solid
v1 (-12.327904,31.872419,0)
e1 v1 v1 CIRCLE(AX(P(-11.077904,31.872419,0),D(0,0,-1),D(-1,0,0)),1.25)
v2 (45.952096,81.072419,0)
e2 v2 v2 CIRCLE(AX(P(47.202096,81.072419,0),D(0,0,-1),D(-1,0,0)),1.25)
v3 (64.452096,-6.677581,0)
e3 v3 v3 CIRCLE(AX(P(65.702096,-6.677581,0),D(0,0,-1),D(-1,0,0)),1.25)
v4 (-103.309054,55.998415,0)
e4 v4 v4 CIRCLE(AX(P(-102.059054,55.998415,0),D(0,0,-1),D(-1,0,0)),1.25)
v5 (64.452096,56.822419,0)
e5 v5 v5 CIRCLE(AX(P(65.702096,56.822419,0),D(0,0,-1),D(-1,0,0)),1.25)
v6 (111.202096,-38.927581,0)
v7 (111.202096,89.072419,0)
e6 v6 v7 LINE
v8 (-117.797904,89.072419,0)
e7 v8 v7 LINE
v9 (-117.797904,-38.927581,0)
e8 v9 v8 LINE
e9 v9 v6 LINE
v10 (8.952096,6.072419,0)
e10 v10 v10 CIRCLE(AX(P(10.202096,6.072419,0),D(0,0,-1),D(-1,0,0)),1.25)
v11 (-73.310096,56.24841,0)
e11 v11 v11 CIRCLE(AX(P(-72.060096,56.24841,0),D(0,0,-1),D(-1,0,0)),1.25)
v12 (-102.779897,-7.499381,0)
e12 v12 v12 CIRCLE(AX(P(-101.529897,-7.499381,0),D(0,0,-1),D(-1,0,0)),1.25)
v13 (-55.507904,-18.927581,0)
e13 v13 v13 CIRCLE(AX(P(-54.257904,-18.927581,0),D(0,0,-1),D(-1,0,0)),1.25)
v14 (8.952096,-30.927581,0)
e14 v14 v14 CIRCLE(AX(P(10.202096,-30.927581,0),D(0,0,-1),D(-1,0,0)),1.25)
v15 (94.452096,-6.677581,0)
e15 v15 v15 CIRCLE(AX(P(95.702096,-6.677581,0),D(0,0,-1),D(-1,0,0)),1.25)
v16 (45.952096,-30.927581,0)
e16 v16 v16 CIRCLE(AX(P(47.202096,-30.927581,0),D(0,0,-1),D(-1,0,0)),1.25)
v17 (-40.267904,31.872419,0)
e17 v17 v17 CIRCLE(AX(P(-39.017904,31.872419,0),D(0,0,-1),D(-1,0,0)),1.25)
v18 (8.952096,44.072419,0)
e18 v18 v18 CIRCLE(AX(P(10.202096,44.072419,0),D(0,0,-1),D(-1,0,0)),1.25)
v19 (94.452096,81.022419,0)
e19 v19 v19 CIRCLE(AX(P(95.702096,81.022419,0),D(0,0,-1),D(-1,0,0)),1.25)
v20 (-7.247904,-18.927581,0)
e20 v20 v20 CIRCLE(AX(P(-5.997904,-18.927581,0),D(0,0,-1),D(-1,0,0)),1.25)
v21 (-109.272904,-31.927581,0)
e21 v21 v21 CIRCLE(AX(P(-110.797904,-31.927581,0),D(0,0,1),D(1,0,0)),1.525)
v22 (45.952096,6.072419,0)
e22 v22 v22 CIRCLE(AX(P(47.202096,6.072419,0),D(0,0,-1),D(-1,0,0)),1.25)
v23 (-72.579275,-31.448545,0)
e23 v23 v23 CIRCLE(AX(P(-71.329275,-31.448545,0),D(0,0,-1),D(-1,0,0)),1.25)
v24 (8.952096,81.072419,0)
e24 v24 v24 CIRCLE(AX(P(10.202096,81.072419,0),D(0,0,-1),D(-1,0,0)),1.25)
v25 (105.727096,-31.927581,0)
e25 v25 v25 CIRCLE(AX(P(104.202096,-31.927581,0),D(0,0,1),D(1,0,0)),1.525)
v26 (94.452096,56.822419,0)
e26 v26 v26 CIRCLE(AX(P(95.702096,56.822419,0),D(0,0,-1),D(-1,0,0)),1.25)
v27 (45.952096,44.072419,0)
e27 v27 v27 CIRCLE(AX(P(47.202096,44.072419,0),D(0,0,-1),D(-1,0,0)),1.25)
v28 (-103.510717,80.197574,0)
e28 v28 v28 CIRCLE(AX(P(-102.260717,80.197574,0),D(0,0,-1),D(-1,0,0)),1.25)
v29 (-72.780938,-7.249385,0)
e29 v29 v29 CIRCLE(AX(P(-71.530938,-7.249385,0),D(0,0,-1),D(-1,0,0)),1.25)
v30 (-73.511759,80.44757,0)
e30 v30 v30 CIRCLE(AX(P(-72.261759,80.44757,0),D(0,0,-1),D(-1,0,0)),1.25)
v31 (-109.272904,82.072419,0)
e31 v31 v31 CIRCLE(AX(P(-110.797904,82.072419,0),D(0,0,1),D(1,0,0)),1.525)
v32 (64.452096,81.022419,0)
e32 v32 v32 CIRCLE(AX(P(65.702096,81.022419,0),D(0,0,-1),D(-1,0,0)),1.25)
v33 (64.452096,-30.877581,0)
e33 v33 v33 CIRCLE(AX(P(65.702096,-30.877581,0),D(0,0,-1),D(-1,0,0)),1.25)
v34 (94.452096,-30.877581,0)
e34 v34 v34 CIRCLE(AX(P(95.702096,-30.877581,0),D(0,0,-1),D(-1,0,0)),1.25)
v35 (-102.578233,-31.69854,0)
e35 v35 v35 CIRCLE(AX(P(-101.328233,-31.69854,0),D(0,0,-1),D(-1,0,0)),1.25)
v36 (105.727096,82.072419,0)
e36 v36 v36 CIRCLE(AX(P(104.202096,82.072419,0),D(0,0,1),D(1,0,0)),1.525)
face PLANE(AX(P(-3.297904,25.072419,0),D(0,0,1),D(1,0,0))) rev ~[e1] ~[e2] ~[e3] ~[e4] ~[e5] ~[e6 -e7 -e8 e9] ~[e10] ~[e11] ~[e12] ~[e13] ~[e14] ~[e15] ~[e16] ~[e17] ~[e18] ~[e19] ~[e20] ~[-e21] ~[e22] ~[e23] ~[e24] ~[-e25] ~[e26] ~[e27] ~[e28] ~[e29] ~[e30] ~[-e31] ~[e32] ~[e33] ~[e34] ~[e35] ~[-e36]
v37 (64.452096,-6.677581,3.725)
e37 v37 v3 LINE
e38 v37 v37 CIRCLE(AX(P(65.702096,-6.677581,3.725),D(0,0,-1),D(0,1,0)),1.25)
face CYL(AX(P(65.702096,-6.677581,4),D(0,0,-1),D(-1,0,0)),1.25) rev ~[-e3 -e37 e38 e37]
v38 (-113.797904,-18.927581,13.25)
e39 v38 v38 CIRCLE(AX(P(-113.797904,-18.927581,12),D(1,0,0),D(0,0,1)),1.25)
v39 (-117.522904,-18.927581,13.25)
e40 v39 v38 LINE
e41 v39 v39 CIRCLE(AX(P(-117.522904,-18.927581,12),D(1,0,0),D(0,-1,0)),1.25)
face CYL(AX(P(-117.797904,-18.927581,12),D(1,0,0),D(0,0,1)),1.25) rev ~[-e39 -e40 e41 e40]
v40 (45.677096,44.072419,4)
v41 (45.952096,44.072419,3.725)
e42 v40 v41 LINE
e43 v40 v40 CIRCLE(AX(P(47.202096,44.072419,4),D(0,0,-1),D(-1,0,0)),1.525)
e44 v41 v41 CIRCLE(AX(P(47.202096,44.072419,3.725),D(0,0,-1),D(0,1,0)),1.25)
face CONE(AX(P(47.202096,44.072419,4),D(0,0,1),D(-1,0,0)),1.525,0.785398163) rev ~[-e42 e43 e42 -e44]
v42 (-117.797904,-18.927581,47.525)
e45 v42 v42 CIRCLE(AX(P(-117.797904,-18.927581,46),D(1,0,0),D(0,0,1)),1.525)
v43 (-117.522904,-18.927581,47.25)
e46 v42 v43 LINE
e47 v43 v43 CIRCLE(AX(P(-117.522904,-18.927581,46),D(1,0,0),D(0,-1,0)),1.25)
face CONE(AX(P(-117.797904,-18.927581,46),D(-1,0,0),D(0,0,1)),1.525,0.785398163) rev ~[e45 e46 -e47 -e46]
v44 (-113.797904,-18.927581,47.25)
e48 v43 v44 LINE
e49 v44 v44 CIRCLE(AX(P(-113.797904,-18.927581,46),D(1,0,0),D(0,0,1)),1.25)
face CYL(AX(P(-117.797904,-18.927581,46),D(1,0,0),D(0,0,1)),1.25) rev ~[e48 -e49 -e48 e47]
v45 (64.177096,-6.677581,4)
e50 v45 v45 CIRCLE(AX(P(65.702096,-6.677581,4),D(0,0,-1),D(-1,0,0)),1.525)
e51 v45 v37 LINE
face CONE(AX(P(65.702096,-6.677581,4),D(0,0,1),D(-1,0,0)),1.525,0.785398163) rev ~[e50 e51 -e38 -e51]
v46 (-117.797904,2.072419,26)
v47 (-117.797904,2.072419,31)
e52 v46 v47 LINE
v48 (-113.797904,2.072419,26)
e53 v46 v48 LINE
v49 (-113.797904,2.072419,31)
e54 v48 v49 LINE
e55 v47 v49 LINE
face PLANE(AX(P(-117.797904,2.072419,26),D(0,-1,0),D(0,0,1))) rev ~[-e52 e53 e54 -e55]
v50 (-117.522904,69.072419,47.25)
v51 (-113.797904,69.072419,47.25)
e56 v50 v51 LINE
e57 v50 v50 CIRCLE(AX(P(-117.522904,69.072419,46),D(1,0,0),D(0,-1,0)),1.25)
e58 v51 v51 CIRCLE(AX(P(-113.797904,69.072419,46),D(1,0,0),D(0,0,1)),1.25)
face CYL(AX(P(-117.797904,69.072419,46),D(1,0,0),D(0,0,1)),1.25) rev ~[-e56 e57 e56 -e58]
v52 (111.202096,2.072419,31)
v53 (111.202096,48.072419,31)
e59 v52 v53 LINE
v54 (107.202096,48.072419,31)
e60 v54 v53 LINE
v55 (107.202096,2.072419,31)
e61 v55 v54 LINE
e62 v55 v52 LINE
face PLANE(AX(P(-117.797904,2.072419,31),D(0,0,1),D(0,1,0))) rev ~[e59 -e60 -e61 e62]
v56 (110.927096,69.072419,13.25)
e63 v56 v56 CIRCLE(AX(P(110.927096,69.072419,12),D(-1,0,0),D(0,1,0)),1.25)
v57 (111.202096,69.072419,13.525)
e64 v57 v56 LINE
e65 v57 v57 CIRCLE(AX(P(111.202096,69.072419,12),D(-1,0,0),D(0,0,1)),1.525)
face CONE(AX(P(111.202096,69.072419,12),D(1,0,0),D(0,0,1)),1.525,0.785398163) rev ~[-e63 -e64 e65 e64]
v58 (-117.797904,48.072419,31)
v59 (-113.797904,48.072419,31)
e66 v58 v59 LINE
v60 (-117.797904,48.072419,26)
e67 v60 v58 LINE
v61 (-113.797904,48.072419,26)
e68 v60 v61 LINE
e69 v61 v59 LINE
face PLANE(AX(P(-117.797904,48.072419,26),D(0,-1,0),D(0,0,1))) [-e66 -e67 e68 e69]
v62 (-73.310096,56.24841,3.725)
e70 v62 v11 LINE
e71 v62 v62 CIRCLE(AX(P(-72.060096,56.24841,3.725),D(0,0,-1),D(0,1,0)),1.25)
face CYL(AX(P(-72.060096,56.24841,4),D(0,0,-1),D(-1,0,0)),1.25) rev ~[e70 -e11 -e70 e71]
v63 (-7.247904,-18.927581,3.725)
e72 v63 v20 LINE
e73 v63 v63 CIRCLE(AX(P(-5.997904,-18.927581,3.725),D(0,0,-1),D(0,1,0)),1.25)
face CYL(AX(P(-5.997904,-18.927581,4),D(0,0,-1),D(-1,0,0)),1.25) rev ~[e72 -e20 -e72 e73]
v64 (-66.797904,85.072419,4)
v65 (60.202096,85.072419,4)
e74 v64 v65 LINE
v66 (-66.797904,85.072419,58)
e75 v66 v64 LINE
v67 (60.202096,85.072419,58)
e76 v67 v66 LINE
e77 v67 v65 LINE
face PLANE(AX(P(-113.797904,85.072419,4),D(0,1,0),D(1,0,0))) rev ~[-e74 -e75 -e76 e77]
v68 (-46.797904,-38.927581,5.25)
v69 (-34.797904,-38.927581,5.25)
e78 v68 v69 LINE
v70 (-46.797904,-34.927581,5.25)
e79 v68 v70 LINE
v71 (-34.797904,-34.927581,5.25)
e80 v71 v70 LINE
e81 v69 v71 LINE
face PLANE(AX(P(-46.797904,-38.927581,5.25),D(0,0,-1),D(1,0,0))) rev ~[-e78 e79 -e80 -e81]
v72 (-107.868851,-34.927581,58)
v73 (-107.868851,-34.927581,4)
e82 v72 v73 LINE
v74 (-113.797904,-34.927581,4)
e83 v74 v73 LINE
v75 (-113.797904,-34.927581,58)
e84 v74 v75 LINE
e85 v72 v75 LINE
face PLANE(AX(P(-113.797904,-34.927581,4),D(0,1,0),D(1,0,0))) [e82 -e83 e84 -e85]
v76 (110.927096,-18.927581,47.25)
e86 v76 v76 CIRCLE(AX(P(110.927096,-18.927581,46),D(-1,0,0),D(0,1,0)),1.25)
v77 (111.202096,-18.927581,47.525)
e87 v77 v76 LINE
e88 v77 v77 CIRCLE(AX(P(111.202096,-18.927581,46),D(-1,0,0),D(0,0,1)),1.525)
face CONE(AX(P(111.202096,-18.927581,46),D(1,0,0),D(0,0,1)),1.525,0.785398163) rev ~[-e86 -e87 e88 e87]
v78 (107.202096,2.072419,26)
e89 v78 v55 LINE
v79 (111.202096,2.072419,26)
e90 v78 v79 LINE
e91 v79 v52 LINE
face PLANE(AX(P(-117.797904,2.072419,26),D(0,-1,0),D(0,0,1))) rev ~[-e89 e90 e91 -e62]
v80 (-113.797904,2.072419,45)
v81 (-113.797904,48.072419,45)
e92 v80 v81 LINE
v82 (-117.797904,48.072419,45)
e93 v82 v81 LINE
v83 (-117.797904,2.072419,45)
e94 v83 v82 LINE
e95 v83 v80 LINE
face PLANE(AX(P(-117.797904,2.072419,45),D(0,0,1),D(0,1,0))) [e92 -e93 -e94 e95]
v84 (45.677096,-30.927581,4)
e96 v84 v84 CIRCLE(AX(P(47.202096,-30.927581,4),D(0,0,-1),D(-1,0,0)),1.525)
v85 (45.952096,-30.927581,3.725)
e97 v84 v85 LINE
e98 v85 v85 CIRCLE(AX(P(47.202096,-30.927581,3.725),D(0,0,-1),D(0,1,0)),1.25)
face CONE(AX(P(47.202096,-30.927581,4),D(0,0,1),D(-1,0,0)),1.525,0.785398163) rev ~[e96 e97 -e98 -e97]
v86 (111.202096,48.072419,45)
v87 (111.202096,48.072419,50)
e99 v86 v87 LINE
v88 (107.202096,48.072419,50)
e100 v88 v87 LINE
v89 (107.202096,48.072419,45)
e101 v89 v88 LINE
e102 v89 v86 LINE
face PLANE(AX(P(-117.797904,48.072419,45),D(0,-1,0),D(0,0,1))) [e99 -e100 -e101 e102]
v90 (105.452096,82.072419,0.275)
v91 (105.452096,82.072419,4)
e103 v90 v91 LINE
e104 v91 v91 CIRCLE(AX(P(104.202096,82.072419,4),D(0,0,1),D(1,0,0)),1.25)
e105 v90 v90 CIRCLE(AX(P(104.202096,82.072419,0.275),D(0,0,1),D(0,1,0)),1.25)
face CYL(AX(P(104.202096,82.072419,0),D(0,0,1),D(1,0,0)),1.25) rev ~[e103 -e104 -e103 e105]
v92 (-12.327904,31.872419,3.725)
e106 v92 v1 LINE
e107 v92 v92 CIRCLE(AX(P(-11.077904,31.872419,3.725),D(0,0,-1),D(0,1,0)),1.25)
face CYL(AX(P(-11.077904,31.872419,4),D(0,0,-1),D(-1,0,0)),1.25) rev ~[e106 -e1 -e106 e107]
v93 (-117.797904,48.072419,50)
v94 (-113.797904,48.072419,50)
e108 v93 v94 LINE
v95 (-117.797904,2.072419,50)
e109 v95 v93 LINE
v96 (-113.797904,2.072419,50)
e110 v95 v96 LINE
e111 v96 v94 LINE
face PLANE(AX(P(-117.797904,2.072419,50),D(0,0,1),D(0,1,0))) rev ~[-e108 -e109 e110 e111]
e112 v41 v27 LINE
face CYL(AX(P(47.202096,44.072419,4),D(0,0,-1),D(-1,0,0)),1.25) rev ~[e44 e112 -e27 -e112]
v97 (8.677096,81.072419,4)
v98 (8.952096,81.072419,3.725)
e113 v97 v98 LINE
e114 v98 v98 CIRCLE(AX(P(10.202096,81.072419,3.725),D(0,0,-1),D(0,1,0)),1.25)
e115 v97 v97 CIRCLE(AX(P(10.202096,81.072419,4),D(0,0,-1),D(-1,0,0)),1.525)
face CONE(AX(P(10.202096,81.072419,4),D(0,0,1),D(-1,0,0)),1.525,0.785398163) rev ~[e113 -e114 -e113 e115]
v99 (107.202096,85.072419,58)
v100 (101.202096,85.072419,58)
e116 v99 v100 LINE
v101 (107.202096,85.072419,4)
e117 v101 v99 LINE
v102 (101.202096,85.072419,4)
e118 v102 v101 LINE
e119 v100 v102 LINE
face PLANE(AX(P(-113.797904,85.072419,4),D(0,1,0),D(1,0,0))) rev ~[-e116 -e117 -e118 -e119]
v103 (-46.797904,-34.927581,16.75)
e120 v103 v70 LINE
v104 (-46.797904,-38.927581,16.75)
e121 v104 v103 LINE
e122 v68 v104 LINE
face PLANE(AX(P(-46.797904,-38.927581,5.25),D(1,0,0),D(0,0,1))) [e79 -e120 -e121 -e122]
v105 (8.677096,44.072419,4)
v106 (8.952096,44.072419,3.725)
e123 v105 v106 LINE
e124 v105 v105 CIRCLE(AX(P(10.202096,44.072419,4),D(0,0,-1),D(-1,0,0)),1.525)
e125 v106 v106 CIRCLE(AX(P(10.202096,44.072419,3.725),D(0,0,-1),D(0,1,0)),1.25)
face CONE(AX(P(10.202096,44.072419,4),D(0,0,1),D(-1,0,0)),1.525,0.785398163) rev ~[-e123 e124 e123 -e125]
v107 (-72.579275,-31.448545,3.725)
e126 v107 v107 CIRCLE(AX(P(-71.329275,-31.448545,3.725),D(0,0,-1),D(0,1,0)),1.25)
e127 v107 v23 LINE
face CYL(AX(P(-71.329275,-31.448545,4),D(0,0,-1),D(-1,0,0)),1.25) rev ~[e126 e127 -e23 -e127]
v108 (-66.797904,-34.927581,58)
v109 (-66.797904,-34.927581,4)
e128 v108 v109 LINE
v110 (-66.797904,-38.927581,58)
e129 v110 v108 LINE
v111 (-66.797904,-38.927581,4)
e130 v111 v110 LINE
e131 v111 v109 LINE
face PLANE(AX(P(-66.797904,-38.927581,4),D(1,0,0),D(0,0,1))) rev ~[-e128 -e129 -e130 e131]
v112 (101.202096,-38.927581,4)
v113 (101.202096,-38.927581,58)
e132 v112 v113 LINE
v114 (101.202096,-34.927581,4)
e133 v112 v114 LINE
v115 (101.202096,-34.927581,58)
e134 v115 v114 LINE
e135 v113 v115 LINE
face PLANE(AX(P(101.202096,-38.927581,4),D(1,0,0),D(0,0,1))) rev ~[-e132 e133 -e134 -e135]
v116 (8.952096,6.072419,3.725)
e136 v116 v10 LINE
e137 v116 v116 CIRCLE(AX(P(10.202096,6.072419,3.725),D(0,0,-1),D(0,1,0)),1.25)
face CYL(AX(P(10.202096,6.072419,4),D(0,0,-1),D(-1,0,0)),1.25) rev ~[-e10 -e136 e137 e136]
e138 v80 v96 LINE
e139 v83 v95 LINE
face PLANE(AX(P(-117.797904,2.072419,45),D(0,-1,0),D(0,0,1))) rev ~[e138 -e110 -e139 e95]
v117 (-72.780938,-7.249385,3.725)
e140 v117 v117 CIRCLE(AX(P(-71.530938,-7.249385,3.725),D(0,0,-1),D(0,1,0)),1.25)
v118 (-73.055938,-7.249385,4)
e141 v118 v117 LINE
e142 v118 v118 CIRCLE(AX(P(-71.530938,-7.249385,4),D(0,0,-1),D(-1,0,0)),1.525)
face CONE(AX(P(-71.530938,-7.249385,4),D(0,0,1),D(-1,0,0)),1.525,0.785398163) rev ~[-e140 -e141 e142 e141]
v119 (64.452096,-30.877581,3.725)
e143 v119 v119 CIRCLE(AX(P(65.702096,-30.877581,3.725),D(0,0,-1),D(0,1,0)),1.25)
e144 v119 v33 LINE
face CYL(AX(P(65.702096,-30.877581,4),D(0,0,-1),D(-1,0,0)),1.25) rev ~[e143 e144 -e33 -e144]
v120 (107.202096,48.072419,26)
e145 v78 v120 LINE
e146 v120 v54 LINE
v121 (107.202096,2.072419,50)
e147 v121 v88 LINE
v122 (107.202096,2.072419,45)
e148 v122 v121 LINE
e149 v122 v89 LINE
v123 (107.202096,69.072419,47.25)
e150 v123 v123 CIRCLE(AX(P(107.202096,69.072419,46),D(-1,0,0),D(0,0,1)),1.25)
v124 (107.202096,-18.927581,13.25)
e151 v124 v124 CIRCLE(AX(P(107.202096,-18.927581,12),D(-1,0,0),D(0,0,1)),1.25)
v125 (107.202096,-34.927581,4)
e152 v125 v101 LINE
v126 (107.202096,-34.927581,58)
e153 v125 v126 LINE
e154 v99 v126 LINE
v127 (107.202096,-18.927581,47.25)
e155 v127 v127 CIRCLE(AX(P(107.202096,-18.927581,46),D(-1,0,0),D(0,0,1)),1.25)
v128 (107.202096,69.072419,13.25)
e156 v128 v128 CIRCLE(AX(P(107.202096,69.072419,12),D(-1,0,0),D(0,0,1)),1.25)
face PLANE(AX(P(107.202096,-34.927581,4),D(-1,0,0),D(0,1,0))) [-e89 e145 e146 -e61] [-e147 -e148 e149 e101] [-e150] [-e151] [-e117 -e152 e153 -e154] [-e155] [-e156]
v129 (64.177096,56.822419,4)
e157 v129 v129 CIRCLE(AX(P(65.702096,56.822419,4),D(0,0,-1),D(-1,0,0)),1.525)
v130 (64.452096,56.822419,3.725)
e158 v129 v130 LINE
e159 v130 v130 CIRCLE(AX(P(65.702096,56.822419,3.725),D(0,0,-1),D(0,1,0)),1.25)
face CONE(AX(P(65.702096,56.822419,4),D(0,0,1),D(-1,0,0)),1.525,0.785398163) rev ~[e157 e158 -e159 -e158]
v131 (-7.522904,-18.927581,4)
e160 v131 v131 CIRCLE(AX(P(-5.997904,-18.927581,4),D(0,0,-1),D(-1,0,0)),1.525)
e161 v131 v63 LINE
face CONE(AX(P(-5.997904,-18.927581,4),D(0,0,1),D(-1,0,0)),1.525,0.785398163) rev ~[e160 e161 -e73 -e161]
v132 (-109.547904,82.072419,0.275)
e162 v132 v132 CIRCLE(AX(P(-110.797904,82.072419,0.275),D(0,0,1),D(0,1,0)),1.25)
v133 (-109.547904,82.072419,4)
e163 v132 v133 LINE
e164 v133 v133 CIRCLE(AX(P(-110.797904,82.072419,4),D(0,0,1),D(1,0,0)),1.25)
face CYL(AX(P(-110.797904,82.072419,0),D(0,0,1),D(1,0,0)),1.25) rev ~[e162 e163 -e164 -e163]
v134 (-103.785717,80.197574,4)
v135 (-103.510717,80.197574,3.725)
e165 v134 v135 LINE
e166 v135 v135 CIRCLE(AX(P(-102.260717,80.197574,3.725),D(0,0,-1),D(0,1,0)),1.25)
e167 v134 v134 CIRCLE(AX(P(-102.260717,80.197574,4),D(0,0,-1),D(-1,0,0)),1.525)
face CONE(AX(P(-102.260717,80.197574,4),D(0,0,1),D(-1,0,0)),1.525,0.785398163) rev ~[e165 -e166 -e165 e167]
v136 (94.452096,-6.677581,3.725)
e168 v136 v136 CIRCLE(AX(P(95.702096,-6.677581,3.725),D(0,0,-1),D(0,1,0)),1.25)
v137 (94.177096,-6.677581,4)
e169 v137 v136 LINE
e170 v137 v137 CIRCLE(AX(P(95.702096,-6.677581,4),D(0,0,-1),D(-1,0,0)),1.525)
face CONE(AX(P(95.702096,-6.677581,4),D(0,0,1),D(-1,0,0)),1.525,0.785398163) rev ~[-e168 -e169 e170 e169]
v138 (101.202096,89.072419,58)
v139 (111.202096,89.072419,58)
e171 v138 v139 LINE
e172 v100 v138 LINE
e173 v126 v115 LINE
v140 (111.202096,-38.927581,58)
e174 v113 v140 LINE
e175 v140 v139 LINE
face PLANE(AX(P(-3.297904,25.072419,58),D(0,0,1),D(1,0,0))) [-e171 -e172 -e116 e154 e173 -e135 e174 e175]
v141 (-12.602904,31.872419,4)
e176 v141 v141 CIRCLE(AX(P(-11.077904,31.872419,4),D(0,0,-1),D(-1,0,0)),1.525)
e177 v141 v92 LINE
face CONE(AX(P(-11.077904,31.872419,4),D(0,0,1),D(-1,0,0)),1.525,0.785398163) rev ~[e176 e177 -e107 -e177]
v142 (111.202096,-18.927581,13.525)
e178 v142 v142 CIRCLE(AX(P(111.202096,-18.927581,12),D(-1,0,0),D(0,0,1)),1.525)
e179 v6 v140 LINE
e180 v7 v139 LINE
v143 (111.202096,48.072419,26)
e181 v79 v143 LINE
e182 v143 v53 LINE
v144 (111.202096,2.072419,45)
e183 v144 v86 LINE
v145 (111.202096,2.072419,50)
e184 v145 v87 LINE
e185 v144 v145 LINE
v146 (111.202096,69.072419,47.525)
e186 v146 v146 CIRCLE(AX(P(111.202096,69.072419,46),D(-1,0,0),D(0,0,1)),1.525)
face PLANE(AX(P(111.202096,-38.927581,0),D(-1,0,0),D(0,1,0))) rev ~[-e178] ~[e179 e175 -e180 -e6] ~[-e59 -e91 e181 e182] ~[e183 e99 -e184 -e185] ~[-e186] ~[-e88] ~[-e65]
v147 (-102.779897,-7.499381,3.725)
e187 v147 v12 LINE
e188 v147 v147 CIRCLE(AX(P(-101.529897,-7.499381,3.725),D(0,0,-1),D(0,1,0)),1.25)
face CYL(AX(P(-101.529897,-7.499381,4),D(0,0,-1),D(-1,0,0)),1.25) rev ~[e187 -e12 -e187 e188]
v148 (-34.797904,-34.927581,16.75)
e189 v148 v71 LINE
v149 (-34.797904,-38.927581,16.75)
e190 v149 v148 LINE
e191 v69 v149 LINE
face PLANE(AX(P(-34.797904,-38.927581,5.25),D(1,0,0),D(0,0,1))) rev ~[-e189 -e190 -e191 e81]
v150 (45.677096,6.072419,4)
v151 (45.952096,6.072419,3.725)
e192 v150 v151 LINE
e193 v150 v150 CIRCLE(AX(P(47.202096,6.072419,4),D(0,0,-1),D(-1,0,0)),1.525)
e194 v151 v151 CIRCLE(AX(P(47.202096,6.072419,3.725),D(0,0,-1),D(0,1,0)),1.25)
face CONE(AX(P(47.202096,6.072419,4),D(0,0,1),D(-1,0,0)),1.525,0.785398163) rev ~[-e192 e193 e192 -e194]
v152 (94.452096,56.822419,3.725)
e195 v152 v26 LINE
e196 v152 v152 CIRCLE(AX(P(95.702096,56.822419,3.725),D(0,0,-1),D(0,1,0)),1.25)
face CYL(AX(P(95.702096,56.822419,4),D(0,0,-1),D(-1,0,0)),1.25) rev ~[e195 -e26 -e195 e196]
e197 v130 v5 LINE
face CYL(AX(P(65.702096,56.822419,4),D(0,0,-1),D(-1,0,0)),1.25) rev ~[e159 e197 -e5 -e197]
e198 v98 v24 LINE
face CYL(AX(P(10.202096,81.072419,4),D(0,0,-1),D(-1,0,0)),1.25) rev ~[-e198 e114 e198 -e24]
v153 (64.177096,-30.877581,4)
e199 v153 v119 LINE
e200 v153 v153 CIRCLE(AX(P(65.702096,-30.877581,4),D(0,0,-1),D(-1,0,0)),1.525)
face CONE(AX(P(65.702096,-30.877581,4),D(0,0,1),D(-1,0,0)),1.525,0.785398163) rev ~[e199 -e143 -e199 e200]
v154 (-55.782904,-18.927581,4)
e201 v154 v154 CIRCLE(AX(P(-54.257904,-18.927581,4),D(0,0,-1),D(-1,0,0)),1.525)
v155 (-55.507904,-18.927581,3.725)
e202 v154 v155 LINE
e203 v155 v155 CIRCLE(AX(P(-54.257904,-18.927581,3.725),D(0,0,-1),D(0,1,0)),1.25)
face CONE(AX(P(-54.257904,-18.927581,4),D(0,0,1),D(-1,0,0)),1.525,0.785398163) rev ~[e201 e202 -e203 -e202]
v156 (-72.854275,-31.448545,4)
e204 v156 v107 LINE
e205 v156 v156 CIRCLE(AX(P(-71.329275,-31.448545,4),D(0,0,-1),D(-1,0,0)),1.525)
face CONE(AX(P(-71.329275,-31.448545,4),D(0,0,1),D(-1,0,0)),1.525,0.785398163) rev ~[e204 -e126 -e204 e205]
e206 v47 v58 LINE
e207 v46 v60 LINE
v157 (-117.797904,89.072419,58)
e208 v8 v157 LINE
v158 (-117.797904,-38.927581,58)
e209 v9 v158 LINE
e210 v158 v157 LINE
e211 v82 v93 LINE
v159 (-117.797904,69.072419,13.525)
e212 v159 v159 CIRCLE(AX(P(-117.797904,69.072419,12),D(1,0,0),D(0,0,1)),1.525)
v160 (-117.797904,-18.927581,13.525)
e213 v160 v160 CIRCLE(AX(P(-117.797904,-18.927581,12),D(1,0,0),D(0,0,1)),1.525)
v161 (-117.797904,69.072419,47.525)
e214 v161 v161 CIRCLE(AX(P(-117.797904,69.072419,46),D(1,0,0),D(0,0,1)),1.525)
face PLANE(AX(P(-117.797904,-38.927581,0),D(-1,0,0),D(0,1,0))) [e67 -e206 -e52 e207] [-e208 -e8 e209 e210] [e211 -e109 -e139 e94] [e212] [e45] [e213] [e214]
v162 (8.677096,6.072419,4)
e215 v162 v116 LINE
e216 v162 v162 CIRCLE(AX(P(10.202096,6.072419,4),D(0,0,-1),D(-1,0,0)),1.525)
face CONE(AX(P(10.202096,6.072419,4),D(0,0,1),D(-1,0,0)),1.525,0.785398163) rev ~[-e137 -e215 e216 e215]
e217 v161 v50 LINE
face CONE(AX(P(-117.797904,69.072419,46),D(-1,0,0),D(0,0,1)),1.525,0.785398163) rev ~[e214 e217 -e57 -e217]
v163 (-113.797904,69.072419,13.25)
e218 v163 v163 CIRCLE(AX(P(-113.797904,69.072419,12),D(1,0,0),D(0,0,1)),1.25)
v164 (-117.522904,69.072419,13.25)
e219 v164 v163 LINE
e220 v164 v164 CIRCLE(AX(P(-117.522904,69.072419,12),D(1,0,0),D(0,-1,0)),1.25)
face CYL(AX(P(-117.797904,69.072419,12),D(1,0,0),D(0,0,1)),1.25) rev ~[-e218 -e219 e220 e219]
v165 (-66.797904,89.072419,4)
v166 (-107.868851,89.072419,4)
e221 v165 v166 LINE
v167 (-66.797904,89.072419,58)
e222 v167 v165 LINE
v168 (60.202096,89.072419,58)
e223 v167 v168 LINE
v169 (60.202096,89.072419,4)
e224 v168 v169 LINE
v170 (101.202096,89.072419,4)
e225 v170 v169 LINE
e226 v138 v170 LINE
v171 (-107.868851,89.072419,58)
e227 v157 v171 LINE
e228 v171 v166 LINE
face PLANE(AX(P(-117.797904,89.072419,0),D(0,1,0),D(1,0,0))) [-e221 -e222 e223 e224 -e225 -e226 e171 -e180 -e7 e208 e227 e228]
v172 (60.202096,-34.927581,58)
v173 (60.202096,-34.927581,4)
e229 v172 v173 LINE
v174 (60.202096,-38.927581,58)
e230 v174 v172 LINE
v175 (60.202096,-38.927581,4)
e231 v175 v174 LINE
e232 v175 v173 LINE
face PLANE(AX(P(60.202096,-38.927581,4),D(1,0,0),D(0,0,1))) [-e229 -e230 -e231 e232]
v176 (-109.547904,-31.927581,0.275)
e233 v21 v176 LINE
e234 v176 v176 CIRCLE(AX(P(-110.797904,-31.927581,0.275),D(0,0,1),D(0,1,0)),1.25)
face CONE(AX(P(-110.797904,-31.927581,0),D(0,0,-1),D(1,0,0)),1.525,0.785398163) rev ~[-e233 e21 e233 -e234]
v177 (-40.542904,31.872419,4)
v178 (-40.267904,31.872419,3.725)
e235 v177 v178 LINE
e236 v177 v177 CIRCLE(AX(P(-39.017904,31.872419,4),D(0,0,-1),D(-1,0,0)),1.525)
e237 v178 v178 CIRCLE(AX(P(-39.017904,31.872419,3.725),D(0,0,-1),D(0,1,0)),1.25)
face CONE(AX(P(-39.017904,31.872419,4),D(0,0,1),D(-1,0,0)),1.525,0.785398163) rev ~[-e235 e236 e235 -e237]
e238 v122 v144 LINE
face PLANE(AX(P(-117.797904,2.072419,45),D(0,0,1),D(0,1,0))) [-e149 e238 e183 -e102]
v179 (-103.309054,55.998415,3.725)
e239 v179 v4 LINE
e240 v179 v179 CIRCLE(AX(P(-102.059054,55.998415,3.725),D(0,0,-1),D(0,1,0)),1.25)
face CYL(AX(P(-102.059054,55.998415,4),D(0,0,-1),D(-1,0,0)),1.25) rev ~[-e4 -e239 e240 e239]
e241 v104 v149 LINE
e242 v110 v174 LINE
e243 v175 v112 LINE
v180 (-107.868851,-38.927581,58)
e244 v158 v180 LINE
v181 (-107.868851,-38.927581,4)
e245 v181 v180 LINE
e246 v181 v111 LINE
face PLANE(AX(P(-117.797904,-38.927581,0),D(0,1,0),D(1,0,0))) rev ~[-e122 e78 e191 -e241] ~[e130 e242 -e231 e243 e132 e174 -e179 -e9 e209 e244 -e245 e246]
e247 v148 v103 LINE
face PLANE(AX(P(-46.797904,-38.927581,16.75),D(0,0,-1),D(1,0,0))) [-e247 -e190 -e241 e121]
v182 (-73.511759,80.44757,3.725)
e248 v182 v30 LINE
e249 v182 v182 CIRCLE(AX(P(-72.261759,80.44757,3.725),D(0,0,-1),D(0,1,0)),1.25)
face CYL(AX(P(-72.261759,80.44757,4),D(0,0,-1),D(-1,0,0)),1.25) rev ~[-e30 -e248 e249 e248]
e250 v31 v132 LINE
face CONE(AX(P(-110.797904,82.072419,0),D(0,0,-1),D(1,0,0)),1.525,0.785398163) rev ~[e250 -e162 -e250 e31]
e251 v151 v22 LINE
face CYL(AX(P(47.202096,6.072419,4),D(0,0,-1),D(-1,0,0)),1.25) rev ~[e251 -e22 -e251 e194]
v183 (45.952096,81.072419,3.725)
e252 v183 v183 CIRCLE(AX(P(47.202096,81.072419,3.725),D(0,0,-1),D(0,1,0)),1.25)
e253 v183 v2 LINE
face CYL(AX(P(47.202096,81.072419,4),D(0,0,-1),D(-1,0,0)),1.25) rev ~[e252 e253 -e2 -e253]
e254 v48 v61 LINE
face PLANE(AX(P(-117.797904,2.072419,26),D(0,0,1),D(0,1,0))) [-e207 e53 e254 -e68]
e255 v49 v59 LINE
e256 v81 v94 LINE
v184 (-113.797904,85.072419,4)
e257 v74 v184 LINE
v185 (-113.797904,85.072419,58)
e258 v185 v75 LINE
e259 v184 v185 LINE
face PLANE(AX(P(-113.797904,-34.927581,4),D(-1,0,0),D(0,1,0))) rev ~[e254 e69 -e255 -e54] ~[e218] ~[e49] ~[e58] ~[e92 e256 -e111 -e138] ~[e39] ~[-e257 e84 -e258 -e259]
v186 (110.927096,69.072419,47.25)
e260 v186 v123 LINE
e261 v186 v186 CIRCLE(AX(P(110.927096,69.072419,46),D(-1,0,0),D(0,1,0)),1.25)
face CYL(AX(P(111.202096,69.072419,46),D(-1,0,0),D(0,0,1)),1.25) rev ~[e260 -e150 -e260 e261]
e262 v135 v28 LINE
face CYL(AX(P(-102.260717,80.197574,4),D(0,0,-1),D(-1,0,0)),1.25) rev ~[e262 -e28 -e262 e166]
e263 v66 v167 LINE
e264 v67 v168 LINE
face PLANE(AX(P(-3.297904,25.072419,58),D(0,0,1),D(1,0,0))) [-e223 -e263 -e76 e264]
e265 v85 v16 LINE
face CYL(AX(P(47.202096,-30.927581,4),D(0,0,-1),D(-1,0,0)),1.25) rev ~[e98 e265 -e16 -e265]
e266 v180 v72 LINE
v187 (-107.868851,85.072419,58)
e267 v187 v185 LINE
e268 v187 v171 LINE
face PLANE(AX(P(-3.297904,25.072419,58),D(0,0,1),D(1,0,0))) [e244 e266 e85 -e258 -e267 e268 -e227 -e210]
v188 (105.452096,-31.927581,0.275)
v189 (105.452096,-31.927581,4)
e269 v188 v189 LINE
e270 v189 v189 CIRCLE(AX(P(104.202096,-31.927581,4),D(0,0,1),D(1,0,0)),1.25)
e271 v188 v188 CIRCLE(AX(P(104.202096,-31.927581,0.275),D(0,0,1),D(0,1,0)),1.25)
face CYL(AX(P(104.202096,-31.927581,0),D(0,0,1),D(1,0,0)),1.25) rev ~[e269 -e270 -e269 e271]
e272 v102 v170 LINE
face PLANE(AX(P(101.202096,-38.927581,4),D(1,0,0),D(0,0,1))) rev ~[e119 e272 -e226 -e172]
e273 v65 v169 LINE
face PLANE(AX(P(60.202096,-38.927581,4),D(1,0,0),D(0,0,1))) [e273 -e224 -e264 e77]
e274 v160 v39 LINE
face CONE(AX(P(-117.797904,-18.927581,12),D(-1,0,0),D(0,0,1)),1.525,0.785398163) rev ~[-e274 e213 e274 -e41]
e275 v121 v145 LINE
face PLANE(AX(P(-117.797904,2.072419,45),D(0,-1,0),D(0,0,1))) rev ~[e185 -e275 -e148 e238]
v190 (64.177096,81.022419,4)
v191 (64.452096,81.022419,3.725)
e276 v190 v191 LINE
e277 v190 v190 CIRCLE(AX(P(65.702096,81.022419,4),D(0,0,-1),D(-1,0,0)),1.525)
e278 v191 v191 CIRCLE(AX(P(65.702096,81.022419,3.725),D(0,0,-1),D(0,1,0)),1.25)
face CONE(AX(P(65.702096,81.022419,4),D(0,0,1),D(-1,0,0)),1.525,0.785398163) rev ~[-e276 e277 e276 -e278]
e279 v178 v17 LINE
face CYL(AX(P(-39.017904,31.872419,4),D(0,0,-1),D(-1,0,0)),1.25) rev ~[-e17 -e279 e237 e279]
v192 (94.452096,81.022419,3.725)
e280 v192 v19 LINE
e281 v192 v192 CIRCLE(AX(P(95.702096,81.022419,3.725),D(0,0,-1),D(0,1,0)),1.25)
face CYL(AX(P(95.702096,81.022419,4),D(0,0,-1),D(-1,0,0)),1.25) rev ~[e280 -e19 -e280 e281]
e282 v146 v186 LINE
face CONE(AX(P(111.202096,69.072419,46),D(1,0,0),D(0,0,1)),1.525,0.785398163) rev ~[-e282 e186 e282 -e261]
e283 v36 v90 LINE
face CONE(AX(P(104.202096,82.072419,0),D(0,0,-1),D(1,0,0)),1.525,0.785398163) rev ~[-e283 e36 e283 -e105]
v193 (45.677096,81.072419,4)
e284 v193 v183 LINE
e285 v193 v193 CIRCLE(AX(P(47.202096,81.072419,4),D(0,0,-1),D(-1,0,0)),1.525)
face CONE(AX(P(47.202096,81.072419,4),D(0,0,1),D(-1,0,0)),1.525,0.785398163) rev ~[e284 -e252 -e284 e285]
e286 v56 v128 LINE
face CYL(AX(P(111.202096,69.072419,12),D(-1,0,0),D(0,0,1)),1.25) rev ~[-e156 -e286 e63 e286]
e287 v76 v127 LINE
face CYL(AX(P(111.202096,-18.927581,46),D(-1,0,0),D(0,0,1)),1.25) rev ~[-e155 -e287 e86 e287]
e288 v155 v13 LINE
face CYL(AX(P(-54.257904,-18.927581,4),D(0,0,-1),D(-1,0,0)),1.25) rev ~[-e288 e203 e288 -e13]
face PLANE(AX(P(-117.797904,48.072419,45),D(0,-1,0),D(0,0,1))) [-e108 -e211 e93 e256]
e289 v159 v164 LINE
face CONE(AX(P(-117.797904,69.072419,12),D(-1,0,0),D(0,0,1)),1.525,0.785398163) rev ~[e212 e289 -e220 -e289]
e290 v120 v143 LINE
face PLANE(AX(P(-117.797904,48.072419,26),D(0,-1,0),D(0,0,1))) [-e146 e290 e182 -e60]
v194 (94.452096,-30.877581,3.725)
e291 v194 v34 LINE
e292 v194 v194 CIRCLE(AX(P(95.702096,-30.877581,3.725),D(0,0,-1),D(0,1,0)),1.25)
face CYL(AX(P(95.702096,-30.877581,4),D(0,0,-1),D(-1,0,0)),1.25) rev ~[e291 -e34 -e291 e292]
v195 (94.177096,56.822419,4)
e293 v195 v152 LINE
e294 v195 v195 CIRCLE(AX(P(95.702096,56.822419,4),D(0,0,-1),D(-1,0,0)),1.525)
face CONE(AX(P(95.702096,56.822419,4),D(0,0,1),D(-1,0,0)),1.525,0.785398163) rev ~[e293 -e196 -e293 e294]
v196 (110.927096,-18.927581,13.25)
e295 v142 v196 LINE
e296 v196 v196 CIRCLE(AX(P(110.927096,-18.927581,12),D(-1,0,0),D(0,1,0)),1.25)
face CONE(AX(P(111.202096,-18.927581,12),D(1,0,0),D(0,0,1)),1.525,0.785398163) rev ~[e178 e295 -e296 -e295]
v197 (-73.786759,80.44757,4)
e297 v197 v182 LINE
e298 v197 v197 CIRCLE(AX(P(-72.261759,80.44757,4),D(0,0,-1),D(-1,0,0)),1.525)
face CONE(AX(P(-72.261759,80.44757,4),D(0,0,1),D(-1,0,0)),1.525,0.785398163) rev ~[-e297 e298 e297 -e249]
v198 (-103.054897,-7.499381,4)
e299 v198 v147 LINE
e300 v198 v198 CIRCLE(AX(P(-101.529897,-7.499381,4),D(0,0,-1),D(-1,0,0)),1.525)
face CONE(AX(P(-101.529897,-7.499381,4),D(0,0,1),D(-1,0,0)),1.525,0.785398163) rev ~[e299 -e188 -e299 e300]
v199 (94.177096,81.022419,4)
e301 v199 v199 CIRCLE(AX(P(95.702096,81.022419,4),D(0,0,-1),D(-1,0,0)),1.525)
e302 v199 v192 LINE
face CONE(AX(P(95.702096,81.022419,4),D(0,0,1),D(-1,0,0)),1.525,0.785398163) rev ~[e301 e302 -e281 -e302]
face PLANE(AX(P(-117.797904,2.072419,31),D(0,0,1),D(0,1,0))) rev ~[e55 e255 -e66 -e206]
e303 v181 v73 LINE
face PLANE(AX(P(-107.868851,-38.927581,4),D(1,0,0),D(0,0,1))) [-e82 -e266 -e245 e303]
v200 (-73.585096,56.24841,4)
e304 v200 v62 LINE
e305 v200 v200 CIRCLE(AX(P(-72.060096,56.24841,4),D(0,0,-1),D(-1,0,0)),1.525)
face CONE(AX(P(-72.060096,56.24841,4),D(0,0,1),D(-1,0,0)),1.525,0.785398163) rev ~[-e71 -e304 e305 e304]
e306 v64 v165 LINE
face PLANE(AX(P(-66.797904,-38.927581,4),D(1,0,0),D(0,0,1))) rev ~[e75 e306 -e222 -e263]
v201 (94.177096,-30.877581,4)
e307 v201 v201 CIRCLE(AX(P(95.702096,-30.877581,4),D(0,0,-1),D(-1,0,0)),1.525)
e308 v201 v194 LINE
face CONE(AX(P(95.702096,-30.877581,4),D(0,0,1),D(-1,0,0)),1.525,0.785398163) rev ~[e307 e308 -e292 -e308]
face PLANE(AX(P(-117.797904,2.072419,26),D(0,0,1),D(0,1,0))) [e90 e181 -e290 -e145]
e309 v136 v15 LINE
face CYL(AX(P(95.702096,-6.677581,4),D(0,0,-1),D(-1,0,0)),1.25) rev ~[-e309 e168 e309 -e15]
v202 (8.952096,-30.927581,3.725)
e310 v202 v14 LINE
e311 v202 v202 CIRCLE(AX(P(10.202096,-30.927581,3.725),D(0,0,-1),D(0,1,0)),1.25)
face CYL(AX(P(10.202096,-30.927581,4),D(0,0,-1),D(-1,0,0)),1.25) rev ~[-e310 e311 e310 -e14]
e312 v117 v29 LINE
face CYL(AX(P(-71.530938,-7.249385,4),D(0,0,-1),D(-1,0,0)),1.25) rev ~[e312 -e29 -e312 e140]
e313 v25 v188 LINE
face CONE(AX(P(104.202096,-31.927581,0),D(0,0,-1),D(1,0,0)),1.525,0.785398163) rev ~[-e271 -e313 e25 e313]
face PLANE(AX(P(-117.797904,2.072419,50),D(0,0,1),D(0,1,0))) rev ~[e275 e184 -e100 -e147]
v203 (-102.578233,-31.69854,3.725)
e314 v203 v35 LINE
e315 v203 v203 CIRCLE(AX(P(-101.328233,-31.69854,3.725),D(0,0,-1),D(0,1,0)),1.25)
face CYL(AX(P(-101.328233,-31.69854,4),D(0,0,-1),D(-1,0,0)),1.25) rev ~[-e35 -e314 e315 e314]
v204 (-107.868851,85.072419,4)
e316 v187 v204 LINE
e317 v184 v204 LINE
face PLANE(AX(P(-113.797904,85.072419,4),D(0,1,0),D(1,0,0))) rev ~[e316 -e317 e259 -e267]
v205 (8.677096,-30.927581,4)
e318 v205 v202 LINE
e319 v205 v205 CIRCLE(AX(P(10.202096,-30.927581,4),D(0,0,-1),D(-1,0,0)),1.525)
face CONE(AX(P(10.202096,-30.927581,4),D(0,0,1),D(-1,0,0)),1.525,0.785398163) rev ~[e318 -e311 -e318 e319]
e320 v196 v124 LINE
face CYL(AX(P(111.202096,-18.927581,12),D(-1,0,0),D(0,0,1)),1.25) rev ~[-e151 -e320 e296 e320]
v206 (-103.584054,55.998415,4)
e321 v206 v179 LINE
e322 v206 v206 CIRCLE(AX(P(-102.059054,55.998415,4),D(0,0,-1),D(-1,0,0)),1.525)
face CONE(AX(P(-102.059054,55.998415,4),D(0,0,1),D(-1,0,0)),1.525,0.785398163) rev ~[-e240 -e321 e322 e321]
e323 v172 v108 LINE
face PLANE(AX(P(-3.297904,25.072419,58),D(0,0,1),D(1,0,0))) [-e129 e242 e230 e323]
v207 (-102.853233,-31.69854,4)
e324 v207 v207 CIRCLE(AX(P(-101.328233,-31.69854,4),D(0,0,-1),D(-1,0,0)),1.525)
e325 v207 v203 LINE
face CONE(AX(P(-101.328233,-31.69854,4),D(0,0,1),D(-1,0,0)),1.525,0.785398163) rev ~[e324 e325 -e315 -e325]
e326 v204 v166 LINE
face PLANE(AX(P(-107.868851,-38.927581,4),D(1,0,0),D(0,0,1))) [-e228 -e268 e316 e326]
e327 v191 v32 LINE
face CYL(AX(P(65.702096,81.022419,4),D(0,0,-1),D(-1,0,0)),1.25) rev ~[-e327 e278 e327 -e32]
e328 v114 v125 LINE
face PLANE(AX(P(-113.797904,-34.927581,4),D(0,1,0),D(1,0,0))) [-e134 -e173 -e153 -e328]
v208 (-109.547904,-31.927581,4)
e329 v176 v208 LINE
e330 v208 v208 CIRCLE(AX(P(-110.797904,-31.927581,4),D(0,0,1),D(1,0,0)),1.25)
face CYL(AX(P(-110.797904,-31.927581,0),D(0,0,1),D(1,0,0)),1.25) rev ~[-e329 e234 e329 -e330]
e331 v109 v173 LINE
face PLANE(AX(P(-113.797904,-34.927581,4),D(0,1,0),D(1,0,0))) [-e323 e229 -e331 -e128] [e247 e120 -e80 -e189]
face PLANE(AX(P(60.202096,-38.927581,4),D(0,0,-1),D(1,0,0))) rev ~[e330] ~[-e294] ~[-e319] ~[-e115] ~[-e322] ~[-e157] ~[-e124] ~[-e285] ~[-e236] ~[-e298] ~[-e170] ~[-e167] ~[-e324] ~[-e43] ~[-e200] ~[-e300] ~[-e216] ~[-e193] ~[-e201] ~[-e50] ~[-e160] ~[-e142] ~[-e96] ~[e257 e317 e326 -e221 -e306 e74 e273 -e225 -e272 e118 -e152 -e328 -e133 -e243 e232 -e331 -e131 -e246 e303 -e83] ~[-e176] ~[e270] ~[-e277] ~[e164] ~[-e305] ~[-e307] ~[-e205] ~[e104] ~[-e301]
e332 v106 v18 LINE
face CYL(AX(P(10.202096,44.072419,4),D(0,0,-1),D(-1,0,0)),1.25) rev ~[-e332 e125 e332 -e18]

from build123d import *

# Parameters (mm, degrees)
SKETCH_4_W                   = 229
SKETCH_4_H                   = 128
EXTRUDE_2_DEPTH              = 58
CUT_EXTRUDE_START            = 4
SKETCH_6_W                   = 221
SKETCH_6_H                   = 120
CUT_EXTRUDE_2_DEPTH          = 58
HOLE_WIZARD_M3_5_D           = 2.5
HOLE_WIZARD_M3_5_DEPTH       = 4
HOLE_WIZARD_M3_5_CSINK_D     = 3.05
HOLE_WIZARD_M3_5_CSINK_ANGLE = 90
HOLE_WIZARD_M3_3_D           = 2.5
HOLE_WIZARD_M3_3_CSINK_D     = 3.05
HOLE_WIZARD_M3_3_CSINK_ANGLE = 90
SKETCH_23_W                  = 5
SKETCH_23_H                  = 46
CUT_EXTRUDE_3_DEPTH          = 253.465633094
SKETCH_24_W                  = 41.070947304
SKETCH_24_H                  = 54
SKETCH_24_W_2                = 41
CUT_EXTRUDE_4_DEPTH          = 184.369425463
HOLE_WIZARD_M3_6_D           = 2.5
HOLE_WIZARD_M3_6_CSINK_D     = 3.05
HOLE_WIZARD_M3_6_CSINK_ANGLE = 90
HOLE_WIZARD_M3_7_D           = 2.5
HOLE_WIZARD_M3_7_CSINK_D     = 3.05
HOLE_WIZARD_M3_7_CSINK_ANGLE = 90
HOLE_WIZARD_M3_8_D           = 2.5
HOLE_WIZARD_M3_8_CSINK_D     = 3.05
HOLE_WIZARD_M3_8_CSINK_ANGLE = 90
HOLE_WIZARD_M3_9_D           = 2.5
HOLE_WIZARD_M3_9_CSINK_D     = 3.05
HOLE_WIZARD_M3_9_CSINK_ANGLE = 90
SKETCH_40_W                  = 5
SKETCH_40_H                  = 46
CUT_EXTRUDE_5_DEPTH          = 253.465633094
SKETCH_43_W                  = 12
SKETCH_43_H                  = 11.5
CUT_EXTRUDE_8_DEPTH          = 10.5


with BuildPart() as part:
    # 草图4 → 凸台-拉伸2 (new body)
    with BuildSketch(Plane.XY):
        with Locations((-3.297904033, 25.072419375)):
            Rectangle(SKETCH_4_W, SKETCH_4_H)
    extrude(amount=EXTRUDE_2_DEPTH)

    # 草图6 → 切除-拉伸2 (cut)
    with BuildSketch(Plane.XY.offset(CUT_EXTRUDE_START)):
        with Locations((-3.297904033, 25.072419375)):
            Rectangle(SKETCH_6_W, SKETCH_6_H)
    extrude(amount=CUT_EXTRUDE_2_DEPTH, mode=Mode.SUBTRACT)

    # M3 螺纹孔5
    with Locations(Plane(origin=(111.202095967, 0, 0), x_dir=(0, 0, -1), z_dir=(1, 0, 0))):
        with Locations((-46, 69.072419375), (-12, 69.072419375), (-12, -18.927580625), (-46, -18.927580625)):
            CounterSinkHole(HOLE_WIZARD_M3_5_D / 2, HOLE_WIZARD_M3_5_CSINK_D / 2, depth=HOLE_WIZARD_M3_5_DEPTH, counter_sink_angle=HOLE_WIZARD_M3_5_CSINK_ANGLE)

    # M3 螺纹孔3 (through all)
    with Locations(Plane(origin=(-117.797904033, 69.072419375, 12), x_dir=(0, 0, -1), z_dir=(-1, 0, 0))):
        with Locations((0, 0), (-34, 0), (-34, 88), (0, 88)):
            CounterSinkHole(HOLE_WIZARD_M3_3_D / 2, HOLE_WIZARD_M3_3_CSINK_D / 2, counter_sink_angle=HOLE_WIZARD_M3_3_CSINK_ANGLE)

    # 草图23 → 切除-拉伸3 (cut, through all)
    with BuildSketch(Plane.ZY.offset(117.797904033)):
        with Locations((47.5, 25.072419375)):
            Rectangle(SKETCH_23_W, SKETCH_23_H)
    extrude(amount=-CUT_EXTRUDE_3_DEPTH, mode=Mode.SUBTRACT)

    # 草图24 → 切除-拉伸4 (cut, through all)
    with BuildSketch(Plane.XZ.offset(38.927580625)):
        with Locations((-87.333377685, 31)):
            Rectangle(SKETCH_24_W, SKETCH_24_H)
        with Locations((80.702095967, 31)):
            Rectangle(SKETCH_24_W_2, SKETCH_24_H)
    extrude(amount=-CUT_EXTRUDE_4_DEPTH, mode=Mode.SUBTRACT)

    # M3 螺纹孔6 (through all)
    with Locations(Plane(origin=(0, 0, 0), x_dir=(-1, 0, 0), z_dir=(0, 0, -1))):
        with Locations((-104.202095967, 82.072419375), (-104.202095967, -31.927580625), (110.797904033, -31.927580625), (110.797904033, 82.072419375)):
            CounterSinkHole(HOLE_WIZARD_M3_6_D / 2, HOLE_WIZARD_M3_6_CSINK_D / 2, counter_sink_angle=HOLE_WIZARD_M3_6_CSINK_ANGLE)

    # M3 螺纹孔7 (through all)
    with Locations(Plane.XY.offset(4)):
        with Locations((-5.997904033, -18.927580625), (-11.077904033, 31.872419375), (-39.017904033, 31.872419375), (-54.257904033, -18.927580625)):
            CounterSinkHole(HOLE_WIZARD_M3_7_D / 2, HOLE_WIZARD_M3_7_CSINK_D / 2, counter_sink_angle=HOLE_WIZARD_M3_7_CSINK_ANGLE)

    # M3 螺纹孔8 (through all)
    with Locations(Plane.XY.offset(4)):
        with Locations((10.202095967, 44.072419375), (10.202095967, 81.072419375), (47.202095967, 81.072419375), (47.202095967, 44.072419375), (47.202095967, 6.072419375), (47.202095967, -30.927580625), (10.202095967, -30.927580625), (10.202095967, 6.072419375)):
            CounterSinkHole(HOLE_WIZARD_M3_8_D / 2, HOLE_WIZARD_M3_8_CSINK_D / 2, counter_sink_angle=HOLE_WIZARD_M3_8_CSINK_ANGLE)

    # M3 螺纹孔9 (through all)
    with Locations(Plane.XY.offset(4)):
        with Locations((-102.260717179, 80.197574321), (-102.059054013, 55.998414584), (-72.060095662, 56.248410244), (-72.261758827, 80.44756998), (65.702095967, 81.022419375), (95.702095967, 81.022419375), (95.702095967, 56.822419375), (65.702095967, 56.822419375), (65.702095967, -6.677580625), (95.702095967, -6.677580625), (95.702095967, -30.877580625), (65.702095967, -30.877580625), (-71.329275016, -31.44854467), (-71.530938182, -7.249384934), (-101.529896533, -7.499380593), (-101.328233368, -31.69854033)):
            CounterSinkHole(HOLE_WIZARD_M3_9_D / 2, HOLE_WIZARD_M3_9_CSINK_D / 2, counter_sink_angle=HOLE_WIZARD_M3_9_CSINK_ANGLE)

    # 草图40 → 切除-拉伸5 (cut, through all)
    with BuildSketch(Plane.ZY.offset(117.797904033)):
        with Locations((28.5, 25.072419375)):
            Rectangle(SKETCH_40_W, SKETCH_40_H)
    extrude(amount=-CUT_EXTRUDE_5_DEPTH, mode=Mode.SUBTRACT)

    # 草图43 → 切除-拉伸8 (cut)
    with BuildSketch(Plane.XZ.offset(38.927580625)):
        with Locations((-40.797904033, 11)):
            Rectangle(SKETCH_43_W, SKETCH_43_H)
    extrude(amount=-CUT_EXTRUDE_8_DEPTH, mode=Mode.SUBTRACT)


solid = part.part
